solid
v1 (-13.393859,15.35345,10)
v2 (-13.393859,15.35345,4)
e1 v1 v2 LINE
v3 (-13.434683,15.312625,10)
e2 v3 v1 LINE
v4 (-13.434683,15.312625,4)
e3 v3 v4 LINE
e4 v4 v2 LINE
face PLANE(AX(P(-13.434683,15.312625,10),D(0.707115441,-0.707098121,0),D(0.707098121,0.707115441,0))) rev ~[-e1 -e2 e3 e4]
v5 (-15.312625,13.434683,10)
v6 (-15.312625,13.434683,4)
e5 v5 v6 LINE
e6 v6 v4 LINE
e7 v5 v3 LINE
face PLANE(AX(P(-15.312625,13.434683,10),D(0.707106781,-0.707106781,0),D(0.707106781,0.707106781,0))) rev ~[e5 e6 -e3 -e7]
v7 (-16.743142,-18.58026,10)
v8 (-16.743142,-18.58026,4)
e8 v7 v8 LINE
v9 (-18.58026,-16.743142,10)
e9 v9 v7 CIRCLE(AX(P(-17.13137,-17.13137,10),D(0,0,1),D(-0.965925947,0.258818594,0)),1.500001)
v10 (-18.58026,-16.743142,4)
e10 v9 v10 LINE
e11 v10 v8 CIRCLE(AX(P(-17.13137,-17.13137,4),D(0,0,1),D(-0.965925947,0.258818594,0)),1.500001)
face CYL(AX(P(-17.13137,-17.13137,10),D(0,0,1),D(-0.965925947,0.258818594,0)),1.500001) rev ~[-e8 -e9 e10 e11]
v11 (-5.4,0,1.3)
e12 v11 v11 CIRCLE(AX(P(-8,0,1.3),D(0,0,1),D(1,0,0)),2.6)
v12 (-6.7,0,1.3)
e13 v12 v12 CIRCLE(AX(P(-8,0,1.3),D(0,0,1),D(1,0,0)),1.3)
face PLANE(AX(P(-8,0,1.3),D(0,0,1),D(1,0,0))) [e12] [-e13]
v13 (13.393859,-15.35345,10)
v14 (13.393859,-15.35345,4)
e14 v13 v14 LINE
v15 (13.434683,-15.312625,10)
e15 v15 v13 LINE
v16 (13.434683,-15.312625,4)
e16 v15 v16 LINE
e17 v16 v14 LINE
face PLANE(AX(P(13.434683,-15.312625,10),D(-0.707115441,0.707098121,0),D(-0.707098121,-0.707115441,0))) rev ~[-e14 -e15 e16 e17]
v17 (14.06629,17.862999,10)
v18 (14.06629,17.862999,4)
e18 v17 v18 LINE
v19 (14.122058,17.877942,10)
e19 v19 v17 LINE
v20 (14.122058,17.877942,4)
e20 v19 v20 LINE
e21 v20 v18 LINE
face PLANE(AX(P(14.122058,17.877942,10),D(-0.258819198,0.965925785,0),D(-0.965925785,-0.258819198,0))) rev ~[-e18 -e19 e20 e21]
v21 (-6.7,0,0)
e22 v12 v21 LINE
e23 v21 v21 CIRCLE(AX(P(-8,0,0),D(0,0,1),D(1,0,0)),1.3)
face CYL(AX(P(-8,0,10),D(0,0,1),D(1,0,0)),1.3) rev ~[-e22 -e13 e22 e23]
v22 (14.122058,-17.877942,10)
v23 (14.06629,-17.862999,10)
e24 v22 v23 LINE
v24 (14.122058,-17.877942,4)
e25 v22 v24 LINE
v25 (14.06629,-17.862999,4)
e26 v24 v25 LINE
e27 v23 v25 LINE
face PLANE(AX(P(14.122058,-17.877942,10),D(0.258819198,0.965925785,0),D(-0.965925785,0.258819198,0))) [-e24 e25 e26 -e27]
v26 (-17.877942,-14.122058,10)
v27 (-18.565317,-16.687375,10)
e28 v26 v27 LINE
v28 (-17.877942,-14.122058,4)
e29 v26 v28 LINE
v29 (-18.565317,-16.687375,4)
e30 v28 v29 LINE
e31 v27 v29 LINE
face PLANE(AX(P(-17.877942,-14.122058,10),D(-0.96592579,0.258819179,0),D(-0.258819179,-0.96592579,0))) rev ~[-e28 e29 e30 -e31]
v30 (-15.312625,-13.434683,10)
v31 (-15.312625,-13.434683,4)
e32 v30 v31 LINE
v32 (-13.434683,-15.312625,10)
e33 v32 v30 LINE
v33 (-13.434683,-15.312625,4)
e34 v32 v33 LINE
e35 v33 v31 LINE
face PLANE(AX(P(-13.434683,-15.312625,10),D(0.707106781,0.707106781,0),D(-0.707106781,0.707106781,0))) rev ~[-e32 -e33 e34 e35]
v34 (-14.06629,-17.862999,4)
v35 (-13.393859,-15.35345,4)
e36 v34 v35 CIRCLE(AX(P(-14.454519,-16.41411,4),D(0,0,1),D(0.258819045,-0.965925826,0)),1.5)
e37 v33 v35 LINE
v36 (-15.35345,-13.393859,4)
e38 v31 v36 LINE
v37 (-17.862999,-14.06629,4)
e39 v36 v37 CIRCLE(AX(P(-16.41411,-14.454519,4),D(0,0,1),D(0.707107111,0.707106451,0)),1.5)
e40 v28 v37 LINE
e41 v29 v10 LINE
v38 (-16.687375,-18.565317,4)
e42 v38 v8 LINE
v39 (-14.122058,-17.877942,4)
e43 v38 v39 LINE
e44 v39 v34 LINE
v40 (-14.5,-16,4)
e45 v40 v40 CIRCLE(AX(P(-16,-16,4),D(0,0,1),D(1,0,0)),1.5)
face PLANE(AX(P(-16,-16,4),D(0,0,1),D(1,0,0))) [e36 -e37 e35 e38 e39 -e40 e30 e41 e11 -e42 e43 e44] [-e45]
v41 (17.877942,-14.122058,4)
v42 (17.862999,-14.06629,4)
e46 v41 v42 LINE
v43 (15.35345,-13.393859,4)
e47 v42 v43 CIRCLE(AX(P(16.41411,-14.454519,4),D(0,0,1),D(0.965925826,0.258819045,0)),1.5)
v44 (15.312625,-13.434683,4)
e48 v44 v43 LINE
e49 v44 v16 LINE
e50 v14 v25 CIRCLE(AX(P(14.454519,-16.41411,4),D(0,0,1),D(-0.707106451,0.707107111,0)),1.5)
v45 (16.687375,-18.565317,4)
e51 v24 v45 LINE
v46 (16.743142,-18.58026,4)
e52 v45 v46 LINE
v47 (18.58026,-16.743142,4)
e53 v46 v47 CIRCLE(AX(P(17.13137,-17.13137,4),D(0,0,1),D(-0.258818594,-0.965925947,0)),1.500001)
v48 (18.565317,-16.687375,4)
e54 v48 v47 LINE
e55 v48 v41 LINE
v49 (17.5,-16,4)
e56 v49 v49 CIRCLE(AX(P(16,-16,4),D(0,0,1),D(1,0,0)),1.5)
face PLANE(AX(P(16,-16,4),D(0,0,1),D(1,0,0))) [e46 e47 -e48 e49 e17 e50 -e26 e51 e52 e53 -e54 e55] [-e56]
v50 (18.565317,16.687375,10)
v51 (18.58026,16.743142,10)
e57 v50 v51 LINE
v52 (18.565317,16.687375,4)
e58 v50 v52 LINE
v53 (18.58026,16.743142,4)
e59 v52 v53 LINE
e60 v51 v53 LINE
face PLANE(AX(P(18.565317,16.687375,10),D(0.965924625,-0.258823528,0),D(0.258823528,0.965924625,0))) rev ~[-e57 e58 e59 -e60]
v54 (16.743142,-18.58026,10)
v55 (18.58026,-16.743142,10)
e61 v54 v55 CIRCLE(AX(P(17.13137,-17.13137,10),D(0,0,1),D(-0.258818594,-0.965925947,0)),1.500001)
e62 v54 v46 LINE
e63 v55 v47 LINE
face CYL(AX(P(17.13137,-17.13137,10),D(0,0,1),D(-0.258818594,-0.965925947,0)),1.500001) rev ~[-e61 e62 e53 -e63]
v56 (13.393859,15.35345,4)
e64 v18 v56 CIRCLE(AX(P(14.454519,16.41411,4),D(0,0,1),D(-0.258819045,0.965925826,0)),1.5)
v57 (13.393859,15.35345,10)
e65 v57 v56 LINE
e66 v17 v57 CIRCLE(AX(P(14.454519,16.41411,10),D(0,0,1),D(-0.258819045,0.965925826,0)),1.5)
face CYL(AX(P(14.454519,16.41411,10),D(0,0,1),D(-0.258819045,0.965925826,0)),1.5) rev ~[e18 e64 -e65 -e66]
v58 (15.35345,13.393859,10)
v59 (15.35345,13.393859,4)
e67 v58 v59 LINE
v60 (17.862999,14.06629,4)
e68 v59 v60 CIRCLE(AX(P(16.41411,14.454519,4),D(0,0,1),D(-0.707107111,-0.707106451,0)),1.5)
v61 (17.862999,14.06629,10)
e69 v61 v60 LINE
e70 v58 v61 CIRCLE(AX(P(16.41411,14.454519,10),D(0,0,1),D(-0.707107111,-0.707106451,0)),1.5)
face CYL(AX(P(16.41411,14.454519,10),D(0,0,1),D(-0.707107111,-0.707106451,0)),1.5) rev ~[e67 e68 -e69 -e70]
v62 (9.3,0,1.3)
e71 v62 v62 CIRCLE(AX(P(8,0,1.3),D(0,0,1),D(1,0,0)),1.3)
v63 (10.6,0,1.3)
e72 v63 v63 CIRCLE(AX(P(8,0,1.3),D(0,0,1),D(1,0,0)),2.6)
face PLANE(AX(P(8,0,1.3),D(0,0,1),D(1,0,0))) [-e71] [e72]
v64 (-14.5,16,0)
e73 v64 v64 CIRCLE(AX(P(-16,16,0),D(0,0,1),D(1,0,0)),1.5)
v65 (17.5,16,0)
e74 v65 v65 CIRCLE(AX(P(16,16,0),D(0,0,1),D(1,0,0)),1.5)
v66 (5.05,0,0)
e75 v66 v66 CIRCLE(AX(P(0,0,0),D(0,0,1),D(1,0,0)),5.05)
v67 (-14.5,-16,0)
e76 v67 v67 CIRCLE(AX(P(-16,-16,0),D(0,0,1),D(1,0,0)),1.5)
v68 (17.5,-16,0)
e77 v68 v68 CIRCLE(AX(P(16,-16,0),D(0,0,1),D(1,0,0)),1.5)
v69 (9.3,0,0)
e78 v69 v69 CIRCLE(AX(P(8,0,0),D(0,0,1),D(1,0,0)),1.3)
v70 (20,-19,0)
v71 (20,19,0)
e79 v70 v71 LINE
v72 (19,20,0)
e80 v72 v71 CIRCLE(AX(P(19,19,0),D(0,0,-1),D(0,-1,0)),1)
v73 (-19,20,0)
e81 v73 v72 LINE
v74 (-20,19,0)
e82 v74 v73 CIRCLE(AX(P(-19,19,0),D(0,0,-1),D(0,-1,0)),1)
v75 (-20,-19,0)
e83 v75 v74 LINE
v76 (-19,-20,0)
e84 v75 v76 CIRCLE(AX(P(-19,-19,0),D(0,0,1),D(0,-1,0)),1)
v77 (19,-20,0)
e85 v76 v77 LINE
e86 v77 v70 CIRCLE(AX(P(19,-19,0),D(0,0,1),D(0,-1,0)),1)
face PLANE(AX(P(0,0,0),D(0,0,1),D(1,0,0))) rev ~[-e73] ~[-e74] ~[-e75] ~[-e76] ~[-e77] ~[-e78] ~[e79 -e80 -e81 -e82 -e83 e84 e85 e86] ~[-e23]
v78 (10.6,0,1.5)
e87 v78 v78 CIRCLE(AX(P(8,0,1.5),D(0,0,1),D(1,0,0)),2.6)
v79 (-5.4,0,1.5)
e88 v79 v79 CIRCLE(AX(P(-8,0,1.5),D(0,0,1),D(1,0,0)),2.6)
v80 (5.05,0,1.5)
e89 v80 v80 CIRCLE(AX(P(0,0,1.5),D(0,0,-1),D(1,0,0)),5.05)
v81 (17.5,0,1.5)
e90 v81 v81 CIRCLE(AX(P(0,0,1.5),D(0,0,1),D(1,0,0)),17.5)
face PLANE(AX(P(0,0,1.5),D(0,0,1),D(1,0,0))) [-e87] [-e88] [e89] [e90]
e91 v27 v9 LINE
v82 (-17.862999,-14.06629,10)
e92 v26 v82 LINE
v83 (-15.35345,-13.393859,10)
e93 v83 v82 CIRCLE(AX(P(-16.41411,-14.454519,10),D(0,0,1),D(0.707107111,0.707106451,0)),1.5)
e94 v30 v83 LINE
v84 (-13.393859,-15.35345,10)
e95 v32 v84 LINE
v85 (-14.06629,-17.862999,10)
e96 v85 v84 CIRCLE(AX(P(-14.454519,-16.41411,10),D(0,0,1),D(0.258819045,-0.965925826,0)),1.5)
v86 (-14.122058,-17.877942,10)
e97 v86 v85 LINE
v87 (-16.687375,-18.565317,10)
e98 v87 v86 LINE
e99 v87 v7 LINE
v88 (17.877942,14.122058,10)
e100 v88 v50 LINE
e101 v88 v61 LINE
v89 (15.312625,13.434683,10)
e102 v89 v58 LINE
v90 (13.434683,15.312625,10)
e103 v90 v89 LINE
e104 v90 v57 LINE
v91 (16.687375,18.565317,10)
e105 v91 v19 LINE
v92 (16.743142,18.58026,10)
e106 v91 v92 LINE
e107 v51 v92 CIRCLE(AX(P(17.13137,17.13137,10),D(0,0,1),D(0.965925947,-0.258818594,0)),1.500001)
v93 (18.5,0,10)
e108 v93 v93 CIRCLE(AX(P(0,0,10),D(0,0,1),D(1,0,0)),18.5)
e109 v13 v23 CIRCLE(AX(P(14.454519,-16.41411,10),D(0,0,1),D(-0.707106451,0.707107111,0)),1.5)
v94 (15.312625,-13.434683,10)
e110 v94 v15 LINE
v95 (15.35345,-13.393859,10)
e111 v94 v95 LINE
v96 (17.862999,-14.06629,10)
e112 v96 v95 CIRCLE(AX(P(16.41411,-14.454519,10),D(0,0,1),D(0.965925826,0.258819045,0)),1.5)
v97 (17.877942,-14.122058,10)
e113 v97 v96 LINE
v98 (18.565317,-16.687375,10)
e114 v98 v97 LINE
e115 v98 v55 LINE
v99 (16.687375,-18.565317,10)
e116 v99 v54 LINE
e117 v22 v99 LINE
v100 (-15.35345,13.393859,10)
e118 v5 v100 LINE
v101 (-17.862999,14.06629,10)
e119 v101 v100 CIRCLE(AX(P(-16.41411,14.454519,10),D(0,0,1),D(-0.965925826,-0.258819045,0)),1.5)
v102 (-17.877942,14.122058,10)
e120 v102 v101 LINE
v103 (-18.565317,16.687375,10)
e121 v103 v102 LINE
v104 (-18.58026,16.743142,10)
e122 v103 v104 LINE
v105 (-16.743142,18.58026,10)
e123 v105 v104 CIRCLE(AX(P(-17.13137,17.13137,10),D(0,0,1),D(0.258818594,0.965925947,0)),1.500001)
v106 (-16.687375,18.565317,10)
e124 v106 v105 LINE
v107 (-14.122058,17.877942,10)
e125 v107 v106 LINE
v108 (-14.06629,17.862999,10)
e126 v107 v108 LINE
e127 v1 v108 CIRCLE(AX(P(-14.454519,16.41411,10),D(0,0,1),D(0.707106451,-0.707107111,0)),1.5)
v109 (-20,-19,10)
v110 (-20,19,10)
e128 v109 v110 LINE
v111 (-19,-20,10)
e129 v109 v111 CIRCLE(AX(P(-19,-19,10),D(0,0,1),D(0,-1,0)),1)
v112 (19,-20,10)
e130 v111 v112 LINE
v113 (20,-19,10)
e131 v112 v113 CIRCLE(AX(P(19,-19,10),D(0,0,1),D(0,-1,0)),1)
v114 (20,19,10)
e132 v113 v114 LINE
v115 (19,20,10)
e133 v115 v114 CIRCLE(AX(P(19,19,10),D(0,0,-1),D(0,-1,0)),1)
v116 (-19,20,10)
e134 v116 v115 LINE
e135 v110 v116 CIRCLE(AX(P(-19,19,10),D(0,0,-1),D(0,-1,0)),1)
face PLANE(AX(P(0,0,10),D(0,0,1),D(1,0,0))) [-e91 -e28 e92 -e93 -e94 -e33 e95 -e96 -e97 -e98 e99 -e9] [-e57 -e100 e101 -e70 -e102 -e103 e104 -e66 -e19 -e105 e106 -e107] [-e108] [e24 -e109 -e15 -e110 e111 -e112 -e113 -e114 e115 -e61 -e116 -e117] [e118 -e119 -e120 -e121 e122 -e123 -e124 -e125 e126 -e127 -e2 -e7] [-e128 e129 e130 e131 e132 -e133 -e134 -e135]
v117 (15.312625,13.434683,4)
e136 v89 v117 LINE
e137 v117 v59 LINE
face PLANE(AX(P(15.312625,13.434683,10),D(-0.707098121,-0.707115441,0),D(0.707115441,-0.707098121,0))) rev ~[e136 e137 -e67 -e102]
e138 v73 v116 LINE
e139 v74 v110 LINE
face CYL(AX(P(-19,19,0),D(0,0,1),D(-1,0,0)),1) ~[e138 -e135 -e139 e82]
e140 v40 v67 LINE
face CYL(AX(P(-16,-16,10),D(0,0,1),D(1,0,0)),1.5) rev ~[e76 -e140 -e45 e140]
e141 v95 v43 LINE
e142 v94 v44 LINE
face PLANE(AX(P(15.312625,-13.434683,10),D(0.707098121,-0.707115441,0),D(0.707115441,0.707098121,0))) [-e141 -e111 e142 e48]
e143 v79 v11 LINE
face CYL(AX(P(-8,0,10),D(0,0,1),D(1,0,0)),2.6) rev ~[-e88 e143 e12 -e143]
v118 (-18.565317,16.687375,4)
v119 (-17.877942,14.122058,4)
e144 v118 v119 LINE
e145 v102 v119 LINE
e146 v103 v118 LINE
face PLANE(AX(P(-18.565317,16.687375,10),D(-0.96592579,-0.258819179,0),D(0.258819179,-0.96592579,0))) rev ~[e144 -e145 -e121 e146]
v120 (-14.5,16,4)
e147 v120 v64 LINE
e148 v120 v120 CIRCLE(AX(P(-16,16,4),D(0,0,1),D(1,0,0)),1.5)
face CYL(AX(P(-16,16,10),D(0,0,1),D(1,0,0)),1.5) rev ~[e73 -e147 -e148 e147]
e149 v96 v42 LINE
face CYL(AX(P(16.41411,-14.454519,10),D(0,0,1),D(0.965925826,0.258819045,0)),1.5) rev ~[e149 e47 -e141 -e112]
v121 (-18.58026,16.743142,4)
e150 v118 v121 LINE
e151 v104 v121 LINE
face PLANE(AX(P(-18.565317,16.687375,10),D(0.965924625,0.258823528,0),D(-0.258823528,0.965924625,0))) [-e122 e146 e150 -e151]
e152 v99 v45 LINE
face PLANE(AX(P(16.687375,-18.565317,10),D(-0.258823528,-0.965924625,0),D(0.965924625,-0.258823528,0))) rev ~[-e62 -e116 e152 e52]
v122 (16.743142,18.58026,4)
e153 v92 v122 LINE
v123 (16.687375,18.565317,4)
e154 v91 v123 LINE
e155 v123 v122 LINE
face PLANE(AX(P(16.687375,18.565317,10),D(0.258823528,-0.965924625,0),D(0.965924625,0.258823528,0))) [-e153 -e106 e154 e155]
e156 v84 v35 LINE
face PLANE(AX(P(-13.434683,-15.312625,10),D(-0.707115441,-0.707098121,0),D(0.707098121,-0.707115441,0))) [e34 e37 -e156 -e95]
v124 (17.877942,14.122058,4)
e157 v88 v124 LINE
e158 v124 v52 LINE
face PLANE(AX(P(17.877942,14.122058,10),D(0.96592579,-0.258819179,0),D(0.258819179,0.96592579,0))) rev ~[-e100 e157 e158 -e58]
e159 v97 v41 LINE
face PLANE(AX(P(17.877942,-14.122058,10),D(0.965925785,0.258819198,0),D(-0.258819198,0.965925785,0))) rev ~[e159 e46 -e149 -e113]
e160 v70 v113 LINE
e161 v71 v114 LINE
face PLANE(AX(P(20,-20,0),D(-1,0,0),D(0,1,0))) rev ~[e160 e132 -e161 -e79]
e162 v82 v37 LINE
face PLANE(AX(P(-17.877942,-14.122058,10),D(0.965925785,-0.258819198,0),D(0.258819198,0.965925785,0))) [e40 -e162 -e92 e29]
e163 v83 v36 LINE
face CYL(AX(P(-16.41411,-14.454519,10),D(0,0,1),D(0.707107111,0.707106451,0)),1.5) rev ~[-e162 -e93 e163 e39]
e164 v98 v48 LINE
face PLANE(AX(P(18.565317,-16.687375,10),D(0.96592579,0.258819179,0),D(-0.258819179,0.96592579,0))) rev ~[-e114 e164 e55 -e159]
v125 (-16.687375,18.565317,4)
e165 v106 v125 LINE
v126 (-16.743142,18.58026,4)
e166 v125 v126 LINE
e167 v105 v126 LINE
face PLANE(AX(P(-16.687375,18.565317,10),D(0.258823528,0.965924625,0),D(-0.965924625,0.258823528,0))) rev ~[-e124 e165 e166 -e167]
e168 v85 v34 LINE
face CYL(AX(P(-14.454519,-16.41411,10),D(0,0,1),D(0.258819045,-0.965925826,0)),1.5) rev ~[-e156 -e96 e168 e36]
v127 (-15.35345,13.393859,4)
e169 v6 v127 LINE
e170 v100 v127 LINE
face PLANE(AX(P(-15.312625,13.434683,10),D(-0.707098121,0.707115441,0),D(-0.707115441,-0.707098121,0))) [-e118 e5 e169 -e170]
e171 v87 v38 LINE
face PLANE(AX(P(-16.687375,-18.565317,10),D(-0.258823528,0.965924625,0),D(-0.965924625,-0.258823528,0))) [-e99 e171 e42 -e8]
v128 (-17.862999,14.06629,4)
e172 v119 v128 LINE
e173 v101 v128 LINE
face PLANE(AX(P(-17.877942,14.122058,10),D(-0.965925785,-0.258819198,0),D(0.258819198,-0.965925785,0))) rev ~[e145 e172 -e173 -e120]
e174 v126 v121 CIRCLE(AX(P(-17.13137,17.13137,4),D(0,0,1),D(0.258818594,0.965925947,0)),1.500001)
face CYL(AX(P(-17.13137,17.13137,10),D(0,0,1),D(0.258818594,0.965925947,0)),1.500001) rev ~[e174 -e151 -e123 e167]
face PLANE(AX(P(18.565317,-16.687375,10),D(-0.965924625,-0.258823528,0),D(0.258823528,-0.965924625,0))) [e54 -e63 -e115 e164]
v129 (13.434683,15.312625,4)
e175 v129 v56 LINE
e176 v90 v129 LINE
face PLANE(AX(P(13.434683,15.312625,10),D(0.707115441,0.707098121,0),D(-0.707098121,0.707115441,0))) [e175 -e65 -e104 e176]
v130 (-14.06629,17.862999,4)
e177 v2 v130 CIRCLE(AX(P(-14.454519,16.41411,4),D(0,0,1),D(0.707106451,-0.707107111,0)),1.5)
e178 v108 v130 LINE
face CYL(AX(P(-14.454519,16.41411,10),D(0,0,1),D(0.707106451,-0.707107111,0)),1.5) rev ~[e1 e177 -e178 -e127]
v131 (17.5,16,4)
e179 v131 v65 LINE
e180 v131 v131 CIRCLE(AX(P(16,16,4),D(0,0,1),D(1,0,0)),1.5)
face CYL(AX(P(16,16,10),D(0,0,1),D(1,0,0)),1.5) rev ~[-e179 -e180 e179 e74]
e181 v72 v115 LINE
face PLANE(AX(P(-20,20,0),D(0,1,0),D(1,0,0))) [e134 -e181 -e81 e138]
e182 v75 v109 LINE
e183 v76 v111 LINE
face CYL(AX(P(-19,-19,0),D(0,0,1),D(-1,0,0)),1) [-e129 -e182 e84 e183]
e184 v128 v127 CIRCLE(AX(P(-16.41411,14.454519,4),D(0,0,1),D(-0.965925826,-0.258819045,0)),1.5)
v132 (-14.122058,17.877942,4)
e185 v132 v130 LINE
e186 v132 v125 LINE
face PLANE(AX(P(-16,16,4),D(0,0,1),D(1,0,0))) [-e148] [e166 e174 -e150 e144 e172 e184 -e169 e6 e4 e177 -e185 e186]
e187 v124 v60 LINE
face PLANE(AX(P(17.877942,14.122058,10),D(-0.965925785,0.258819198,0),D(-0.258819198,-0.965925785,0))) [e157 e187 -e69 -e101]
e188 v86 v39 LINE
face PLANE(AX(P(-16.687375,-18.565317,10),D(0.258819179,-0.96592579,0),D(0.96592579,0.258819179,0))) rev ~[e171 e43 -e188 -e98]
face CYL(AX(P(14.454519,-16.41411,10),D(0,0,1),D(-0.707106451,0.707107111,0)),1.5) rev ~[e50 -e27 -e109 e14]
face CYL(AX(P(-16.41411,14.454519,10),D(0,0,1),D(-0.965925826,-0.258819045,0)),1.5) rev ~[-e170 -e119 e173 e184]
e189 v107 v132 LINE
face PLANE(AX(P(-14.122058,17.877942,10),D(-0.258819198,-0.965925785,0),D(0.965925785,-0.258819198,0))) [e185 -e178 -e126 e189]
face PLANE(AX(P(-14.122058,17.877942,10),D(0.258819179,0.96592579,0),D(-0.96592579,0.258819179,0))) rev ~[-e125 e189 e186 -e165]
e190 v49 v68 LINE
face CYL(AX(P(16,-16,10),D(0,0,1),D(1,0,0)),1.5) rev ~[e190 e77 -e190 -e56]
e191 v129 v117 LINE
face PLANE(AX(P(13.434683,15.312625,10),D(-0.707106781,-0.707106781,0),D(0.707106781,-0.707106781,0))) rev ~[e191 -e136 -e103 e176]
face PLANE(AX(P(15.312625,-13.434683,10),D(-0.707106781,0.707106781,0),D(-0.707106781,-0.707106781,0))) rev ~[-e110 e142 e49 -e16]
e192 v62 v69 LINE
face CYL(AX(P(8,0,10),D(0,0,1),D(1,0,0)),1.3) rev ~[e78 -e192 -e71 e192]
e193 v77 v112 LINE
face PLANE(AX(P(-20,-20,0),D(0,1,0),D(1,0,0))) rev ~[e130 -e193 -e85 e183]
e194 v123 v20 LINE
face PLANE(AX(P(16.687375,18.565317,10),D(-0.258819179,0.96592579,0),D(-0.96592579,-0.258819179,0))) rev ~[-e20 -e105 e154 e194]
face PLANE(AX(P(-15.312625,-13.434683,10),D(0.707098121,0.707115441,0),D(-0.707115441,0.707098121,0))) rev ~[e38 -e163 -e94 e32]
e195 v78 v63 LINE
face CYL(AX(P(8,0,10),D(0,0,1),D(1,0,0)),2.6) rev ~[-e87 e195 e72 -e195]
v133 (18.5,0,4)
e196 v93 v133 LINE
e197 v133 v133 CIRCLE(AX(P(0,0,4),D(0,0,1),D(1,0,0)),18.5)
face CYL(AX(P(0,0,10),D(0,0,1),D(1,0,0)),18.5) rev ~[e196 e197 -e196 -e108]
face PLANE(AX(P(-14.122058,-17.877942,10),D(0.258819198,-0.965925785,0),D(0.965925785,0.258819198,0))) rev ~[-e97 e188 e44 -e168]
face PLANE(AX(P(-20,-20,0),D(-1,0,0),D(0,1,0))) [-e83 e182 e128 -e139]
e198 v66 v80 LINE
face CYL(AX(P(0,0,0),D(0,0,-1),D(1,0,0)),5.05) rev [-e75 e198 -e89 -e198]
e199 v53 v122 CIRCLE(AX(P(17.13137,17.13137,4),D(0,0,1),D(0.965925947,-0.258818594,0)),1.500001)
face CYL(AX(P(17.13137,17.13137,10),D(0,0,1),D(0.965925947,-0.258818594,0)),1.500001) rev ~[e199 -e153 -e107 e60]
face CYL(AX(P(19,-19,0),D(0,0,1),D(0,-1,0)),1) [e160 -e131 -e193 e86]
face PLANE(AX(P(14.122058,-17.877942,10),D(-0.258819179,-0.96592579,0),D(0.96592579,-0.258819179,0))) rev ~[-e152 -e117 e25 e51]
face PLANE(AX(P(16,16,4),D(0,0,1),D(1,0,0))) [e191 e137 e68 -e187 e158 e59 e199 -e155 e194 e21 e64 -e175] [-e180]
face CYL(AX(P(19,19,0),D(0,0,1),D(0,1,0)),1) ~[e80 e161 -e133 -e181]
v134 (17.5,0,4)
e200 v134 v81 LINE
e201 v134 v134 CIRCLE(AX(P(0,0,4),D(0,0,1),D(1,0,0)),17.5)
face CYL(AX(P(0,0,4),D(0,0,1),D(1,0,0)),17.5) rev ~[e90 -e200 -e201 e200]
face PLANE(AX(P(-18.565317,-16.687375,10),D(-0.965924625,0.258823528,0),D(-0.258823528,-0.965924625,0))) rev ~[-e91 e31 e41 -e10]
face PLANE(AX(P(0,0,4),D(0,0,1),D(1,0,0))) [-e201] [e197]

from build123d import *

# Parameters (mm, degrees)
SKETCH_W        = 40
SKETCH_H        = 40
SKETCH_R        = 5.05
PAD_DEPTH       = 10
SKETCH001_R     = 1.3
POCKET_DEPTH    = 10.001
SKETCH002_R     = 2.6
POCKET001_DEPTH = 8.7
SKETCH005_R     = 1.5
POCKET003_DEPTH = 10.001
POCKET004_DEPTH = 6
SKETCH006_R     = 18.5
POCKET005_DEPTH = 6
SKETCH007_R     = 17.5
POCKET006_DEPTH = 2.5
FILLET_R        = 1


with BuildPart() as part:
    # Sketch → Pad (new body)
    with BuildSketch(Plane.XY):
        Rectangle(SKETCH_W, SKETCH_H)
        Circle(SKETCH_R, mode=Mode.SUBTRACT)
    extrude(amount=PAD_DEPTH)

    # Sketch001 (on Face7 of Pad) → Pocket (cut, through all)
    with BuildSketch(Plane.XY.offset(10)):
        with Locations((8, 0)):
            Circle(SKETCH001_R)
        with Locations((-8, 0)):
            Circle(SKETCH001_R)
    extrude(amount=-POCKET_DEPTH, mode=Mode.SUBTRACT)

    # Sketch002 (on Face5 of Pocket) → Pocket001 (cut)
    with BuildSketch(Plane.XY.offset(10)):
        with Locations((-8, 0)):
            Circle(SKETCH002_R)
        with Locations((8, 0)):
            Circle(SKETCH002_R)
    extrude(amount=-POCKET001_DEPTH, mode=Mode.SUBTRACT)

    # Sketch005 (on Face5 of Pocket001) → Pocket003 (cut, through all)
    with BuildSketch(Plane.XY.offset(10)):
        with Locations((-16, 16)):
            Circle(SKETCH005_R)
        with Locations((16, 16)):
            Circle(SKETCH005_R)
        with Locations((-16, -16)):
            Circle(SKETCH005_R)
        with Locations((16, -16)):
            Circle(SKETCH005_R)
    extrude(amount=-POCKET003_DEPTH, mode=Mode.SUBTRACT)

    # Sketch004 (on Face5 of Pocket003) → Pocket004 (cut)
    with BuildSketch(Plane.XY.offset(10)):
        with BuildLine():
            Line((13.434683, 15.312625), (15.312625, 13.434683))
            Line((15.312625, 13.434683), (15.35345, 13.393859))
            ThreePointArc((15.35345, 13.393859), (16.802339, 13.00563), (17.862999, 14.06629))
            Line((17.877942, 14.122058), (17.862999, 14.06629))
            Line((17.877942, 14.122058), (18.565317, 16.687375))
            Line((18.565317, 16.687375), (18.58026, 16.743142))
            ThreePointArc((18.58026, 16.743142), (18.192031, 18.192031), (16.743142, 18.58026))
            Line((16.687375, 18.565317), (16.743142, 18.58026))
            Line((16.687375, 18.565317), (14.122058, 17.877942))
            Line((14.122058, 17.877942), (14.06629, 17.862999))
            ThreePointArc((14.06629, 17.862999), (13.00563, 16.802339), (13.393859, 15.35345))
            Line((13.434683, 15.312625), (13.393859, 15.35345))
        make_face()
        with BuildLine():
            Line((14.122058, -17.877942), (16.687375, -18.565317))
            Line((16.687375, -18.565317), (16.743142, -18.58026))
            ThreePointArc((16.743142, -18.58026), (18.192031, -18.192031), (18.58026, -16.743142))
            Line((18.565317, -16.687375), (18.58026, -16.743142))
            Line((18.565317, -16.687375), (17.877942, -14.122058))
            Line((17.877942, -14.122058), (17.862999, -14.06629))
            ThreePointArc((17.862999, -14.06629), (16.802339, -13.00563), (15.35345, -13.393859))
            Line((15.312625, -13.434683), (15.35345, -13.393859))
            Line((15.312625, -13.434683), (13.434683, -15.312625))
            Line((13.434683, -15.312625), (13.393859, -15.35345))
            ThreePointArc((13.393859, -15.35345), (13.00563, -16.802339), (14.06629, -17.862999))
            Line((14.122058, -17.877942), (14.06629, -17.862999))
        make_face()
        with BuildLine():
            Line((-14.122058, 17.877942), (-16.687375, 18.565317))
            Line((-16.687375, 18.565317), (-16.743142, 18.58026))
            ThreePointArc((-16.743142, 18.58026), (-18.192031, 18.192031), (-18.58026, 16.743142))
            Line((-18.565317, 16.687375), (-18.58026, 16.743142))
            Line((-18.565317, 16.687375), (-17.877942, 14.122058))
            Line((-17.877942, 14.122058), (-17.862999, 14.06629))
            ThreePointArc((-17.862999, 14.06629), (-16.802339, 13.00563), (-15.35345, 13.393859))
            Line((-15.312625, 13.434683), (-15.35345, 13.393859))
            Line((-15.312625, 13.434683), (-13.434683, 15.312625))
            Line((-13.434683, 15.312625), (-13.393859, 15.35345))
            ThreePointArc((-13.393859, 15.35345), (-13.00563, 16.802339), (-14.06629, 17.862999))
            Line((-14.122058, 17.877942), (-14.06629, 17.862999))
        make_face()
        with BuildLine():
            Line((-13.434683, -15.312625), (-15.312625, -13.434683))
            Line((-15.312625, -13.434683), (-15.35345, -13.393859))
            ThreePointArc((-15.35345, -13.393859), (-16.802339, -13.00563), (-17.862999, -14.06629))
            Line((-17.877942, -14.122058), (-17.862999, -14.06629))
            Line((-17.877942, -14.122058), (-18.565317, -16.687375))
            Line((-18.565317, -16.687375), (-18.58026, -16.743142))
            ThreePointArc((-18.58026, -16.743142), (-18.192031, -18.192031), (-16.743142, -18.58026))
            Line((-16.687375, -18.565317), (-16.743142, -18.58026))
            Line((-16.687375, -18.565317), (-14.122058, -17.877942))
            Line((-14.122058, -17.877942), (-14.06629, -17.862999))
            ThreePointArc((-14.06629, -17.862999), (-13.00563, -16.802339), (-13.393859, -15.35345))
            Line((-13.434683, -15.312625), (-13.393859, -15.35345))
        make_face()
    extrude(amount=-POCKET004_DEPTH, mode=Mode.SUBTRACT)

    # Sketch006 (on Face5 of Pocket004) → Pocket005 (cut)
    with BuildSketch(Plane.XY.offset(10)):
        Circle(SKETCH006_R)
    extrude(amount=-POCKET005_DEPTH, mode=Mode.SUBTRACT)

    # Sketch007 (on Face67 of Pocket005) → Pocket006 (cut)
    with BuildSketch(Plane.XY.offset(4)):
        Circle(SKETCH007_R)
    extrude(amount=-POCKET006_DEPTH, mode=Mode.SUBTRACT)

    # Fillet
    fillet_edges = [part.edges().sort_by_distance(p)[0] for p in [
        (20, -20, 5),
        (-20, -20, 5),
        (-20, 20, 5),
        (20, 20, 5),
    ]]
    fillet(fillet_edges, radius=FILLET_R)


solid = part.part
